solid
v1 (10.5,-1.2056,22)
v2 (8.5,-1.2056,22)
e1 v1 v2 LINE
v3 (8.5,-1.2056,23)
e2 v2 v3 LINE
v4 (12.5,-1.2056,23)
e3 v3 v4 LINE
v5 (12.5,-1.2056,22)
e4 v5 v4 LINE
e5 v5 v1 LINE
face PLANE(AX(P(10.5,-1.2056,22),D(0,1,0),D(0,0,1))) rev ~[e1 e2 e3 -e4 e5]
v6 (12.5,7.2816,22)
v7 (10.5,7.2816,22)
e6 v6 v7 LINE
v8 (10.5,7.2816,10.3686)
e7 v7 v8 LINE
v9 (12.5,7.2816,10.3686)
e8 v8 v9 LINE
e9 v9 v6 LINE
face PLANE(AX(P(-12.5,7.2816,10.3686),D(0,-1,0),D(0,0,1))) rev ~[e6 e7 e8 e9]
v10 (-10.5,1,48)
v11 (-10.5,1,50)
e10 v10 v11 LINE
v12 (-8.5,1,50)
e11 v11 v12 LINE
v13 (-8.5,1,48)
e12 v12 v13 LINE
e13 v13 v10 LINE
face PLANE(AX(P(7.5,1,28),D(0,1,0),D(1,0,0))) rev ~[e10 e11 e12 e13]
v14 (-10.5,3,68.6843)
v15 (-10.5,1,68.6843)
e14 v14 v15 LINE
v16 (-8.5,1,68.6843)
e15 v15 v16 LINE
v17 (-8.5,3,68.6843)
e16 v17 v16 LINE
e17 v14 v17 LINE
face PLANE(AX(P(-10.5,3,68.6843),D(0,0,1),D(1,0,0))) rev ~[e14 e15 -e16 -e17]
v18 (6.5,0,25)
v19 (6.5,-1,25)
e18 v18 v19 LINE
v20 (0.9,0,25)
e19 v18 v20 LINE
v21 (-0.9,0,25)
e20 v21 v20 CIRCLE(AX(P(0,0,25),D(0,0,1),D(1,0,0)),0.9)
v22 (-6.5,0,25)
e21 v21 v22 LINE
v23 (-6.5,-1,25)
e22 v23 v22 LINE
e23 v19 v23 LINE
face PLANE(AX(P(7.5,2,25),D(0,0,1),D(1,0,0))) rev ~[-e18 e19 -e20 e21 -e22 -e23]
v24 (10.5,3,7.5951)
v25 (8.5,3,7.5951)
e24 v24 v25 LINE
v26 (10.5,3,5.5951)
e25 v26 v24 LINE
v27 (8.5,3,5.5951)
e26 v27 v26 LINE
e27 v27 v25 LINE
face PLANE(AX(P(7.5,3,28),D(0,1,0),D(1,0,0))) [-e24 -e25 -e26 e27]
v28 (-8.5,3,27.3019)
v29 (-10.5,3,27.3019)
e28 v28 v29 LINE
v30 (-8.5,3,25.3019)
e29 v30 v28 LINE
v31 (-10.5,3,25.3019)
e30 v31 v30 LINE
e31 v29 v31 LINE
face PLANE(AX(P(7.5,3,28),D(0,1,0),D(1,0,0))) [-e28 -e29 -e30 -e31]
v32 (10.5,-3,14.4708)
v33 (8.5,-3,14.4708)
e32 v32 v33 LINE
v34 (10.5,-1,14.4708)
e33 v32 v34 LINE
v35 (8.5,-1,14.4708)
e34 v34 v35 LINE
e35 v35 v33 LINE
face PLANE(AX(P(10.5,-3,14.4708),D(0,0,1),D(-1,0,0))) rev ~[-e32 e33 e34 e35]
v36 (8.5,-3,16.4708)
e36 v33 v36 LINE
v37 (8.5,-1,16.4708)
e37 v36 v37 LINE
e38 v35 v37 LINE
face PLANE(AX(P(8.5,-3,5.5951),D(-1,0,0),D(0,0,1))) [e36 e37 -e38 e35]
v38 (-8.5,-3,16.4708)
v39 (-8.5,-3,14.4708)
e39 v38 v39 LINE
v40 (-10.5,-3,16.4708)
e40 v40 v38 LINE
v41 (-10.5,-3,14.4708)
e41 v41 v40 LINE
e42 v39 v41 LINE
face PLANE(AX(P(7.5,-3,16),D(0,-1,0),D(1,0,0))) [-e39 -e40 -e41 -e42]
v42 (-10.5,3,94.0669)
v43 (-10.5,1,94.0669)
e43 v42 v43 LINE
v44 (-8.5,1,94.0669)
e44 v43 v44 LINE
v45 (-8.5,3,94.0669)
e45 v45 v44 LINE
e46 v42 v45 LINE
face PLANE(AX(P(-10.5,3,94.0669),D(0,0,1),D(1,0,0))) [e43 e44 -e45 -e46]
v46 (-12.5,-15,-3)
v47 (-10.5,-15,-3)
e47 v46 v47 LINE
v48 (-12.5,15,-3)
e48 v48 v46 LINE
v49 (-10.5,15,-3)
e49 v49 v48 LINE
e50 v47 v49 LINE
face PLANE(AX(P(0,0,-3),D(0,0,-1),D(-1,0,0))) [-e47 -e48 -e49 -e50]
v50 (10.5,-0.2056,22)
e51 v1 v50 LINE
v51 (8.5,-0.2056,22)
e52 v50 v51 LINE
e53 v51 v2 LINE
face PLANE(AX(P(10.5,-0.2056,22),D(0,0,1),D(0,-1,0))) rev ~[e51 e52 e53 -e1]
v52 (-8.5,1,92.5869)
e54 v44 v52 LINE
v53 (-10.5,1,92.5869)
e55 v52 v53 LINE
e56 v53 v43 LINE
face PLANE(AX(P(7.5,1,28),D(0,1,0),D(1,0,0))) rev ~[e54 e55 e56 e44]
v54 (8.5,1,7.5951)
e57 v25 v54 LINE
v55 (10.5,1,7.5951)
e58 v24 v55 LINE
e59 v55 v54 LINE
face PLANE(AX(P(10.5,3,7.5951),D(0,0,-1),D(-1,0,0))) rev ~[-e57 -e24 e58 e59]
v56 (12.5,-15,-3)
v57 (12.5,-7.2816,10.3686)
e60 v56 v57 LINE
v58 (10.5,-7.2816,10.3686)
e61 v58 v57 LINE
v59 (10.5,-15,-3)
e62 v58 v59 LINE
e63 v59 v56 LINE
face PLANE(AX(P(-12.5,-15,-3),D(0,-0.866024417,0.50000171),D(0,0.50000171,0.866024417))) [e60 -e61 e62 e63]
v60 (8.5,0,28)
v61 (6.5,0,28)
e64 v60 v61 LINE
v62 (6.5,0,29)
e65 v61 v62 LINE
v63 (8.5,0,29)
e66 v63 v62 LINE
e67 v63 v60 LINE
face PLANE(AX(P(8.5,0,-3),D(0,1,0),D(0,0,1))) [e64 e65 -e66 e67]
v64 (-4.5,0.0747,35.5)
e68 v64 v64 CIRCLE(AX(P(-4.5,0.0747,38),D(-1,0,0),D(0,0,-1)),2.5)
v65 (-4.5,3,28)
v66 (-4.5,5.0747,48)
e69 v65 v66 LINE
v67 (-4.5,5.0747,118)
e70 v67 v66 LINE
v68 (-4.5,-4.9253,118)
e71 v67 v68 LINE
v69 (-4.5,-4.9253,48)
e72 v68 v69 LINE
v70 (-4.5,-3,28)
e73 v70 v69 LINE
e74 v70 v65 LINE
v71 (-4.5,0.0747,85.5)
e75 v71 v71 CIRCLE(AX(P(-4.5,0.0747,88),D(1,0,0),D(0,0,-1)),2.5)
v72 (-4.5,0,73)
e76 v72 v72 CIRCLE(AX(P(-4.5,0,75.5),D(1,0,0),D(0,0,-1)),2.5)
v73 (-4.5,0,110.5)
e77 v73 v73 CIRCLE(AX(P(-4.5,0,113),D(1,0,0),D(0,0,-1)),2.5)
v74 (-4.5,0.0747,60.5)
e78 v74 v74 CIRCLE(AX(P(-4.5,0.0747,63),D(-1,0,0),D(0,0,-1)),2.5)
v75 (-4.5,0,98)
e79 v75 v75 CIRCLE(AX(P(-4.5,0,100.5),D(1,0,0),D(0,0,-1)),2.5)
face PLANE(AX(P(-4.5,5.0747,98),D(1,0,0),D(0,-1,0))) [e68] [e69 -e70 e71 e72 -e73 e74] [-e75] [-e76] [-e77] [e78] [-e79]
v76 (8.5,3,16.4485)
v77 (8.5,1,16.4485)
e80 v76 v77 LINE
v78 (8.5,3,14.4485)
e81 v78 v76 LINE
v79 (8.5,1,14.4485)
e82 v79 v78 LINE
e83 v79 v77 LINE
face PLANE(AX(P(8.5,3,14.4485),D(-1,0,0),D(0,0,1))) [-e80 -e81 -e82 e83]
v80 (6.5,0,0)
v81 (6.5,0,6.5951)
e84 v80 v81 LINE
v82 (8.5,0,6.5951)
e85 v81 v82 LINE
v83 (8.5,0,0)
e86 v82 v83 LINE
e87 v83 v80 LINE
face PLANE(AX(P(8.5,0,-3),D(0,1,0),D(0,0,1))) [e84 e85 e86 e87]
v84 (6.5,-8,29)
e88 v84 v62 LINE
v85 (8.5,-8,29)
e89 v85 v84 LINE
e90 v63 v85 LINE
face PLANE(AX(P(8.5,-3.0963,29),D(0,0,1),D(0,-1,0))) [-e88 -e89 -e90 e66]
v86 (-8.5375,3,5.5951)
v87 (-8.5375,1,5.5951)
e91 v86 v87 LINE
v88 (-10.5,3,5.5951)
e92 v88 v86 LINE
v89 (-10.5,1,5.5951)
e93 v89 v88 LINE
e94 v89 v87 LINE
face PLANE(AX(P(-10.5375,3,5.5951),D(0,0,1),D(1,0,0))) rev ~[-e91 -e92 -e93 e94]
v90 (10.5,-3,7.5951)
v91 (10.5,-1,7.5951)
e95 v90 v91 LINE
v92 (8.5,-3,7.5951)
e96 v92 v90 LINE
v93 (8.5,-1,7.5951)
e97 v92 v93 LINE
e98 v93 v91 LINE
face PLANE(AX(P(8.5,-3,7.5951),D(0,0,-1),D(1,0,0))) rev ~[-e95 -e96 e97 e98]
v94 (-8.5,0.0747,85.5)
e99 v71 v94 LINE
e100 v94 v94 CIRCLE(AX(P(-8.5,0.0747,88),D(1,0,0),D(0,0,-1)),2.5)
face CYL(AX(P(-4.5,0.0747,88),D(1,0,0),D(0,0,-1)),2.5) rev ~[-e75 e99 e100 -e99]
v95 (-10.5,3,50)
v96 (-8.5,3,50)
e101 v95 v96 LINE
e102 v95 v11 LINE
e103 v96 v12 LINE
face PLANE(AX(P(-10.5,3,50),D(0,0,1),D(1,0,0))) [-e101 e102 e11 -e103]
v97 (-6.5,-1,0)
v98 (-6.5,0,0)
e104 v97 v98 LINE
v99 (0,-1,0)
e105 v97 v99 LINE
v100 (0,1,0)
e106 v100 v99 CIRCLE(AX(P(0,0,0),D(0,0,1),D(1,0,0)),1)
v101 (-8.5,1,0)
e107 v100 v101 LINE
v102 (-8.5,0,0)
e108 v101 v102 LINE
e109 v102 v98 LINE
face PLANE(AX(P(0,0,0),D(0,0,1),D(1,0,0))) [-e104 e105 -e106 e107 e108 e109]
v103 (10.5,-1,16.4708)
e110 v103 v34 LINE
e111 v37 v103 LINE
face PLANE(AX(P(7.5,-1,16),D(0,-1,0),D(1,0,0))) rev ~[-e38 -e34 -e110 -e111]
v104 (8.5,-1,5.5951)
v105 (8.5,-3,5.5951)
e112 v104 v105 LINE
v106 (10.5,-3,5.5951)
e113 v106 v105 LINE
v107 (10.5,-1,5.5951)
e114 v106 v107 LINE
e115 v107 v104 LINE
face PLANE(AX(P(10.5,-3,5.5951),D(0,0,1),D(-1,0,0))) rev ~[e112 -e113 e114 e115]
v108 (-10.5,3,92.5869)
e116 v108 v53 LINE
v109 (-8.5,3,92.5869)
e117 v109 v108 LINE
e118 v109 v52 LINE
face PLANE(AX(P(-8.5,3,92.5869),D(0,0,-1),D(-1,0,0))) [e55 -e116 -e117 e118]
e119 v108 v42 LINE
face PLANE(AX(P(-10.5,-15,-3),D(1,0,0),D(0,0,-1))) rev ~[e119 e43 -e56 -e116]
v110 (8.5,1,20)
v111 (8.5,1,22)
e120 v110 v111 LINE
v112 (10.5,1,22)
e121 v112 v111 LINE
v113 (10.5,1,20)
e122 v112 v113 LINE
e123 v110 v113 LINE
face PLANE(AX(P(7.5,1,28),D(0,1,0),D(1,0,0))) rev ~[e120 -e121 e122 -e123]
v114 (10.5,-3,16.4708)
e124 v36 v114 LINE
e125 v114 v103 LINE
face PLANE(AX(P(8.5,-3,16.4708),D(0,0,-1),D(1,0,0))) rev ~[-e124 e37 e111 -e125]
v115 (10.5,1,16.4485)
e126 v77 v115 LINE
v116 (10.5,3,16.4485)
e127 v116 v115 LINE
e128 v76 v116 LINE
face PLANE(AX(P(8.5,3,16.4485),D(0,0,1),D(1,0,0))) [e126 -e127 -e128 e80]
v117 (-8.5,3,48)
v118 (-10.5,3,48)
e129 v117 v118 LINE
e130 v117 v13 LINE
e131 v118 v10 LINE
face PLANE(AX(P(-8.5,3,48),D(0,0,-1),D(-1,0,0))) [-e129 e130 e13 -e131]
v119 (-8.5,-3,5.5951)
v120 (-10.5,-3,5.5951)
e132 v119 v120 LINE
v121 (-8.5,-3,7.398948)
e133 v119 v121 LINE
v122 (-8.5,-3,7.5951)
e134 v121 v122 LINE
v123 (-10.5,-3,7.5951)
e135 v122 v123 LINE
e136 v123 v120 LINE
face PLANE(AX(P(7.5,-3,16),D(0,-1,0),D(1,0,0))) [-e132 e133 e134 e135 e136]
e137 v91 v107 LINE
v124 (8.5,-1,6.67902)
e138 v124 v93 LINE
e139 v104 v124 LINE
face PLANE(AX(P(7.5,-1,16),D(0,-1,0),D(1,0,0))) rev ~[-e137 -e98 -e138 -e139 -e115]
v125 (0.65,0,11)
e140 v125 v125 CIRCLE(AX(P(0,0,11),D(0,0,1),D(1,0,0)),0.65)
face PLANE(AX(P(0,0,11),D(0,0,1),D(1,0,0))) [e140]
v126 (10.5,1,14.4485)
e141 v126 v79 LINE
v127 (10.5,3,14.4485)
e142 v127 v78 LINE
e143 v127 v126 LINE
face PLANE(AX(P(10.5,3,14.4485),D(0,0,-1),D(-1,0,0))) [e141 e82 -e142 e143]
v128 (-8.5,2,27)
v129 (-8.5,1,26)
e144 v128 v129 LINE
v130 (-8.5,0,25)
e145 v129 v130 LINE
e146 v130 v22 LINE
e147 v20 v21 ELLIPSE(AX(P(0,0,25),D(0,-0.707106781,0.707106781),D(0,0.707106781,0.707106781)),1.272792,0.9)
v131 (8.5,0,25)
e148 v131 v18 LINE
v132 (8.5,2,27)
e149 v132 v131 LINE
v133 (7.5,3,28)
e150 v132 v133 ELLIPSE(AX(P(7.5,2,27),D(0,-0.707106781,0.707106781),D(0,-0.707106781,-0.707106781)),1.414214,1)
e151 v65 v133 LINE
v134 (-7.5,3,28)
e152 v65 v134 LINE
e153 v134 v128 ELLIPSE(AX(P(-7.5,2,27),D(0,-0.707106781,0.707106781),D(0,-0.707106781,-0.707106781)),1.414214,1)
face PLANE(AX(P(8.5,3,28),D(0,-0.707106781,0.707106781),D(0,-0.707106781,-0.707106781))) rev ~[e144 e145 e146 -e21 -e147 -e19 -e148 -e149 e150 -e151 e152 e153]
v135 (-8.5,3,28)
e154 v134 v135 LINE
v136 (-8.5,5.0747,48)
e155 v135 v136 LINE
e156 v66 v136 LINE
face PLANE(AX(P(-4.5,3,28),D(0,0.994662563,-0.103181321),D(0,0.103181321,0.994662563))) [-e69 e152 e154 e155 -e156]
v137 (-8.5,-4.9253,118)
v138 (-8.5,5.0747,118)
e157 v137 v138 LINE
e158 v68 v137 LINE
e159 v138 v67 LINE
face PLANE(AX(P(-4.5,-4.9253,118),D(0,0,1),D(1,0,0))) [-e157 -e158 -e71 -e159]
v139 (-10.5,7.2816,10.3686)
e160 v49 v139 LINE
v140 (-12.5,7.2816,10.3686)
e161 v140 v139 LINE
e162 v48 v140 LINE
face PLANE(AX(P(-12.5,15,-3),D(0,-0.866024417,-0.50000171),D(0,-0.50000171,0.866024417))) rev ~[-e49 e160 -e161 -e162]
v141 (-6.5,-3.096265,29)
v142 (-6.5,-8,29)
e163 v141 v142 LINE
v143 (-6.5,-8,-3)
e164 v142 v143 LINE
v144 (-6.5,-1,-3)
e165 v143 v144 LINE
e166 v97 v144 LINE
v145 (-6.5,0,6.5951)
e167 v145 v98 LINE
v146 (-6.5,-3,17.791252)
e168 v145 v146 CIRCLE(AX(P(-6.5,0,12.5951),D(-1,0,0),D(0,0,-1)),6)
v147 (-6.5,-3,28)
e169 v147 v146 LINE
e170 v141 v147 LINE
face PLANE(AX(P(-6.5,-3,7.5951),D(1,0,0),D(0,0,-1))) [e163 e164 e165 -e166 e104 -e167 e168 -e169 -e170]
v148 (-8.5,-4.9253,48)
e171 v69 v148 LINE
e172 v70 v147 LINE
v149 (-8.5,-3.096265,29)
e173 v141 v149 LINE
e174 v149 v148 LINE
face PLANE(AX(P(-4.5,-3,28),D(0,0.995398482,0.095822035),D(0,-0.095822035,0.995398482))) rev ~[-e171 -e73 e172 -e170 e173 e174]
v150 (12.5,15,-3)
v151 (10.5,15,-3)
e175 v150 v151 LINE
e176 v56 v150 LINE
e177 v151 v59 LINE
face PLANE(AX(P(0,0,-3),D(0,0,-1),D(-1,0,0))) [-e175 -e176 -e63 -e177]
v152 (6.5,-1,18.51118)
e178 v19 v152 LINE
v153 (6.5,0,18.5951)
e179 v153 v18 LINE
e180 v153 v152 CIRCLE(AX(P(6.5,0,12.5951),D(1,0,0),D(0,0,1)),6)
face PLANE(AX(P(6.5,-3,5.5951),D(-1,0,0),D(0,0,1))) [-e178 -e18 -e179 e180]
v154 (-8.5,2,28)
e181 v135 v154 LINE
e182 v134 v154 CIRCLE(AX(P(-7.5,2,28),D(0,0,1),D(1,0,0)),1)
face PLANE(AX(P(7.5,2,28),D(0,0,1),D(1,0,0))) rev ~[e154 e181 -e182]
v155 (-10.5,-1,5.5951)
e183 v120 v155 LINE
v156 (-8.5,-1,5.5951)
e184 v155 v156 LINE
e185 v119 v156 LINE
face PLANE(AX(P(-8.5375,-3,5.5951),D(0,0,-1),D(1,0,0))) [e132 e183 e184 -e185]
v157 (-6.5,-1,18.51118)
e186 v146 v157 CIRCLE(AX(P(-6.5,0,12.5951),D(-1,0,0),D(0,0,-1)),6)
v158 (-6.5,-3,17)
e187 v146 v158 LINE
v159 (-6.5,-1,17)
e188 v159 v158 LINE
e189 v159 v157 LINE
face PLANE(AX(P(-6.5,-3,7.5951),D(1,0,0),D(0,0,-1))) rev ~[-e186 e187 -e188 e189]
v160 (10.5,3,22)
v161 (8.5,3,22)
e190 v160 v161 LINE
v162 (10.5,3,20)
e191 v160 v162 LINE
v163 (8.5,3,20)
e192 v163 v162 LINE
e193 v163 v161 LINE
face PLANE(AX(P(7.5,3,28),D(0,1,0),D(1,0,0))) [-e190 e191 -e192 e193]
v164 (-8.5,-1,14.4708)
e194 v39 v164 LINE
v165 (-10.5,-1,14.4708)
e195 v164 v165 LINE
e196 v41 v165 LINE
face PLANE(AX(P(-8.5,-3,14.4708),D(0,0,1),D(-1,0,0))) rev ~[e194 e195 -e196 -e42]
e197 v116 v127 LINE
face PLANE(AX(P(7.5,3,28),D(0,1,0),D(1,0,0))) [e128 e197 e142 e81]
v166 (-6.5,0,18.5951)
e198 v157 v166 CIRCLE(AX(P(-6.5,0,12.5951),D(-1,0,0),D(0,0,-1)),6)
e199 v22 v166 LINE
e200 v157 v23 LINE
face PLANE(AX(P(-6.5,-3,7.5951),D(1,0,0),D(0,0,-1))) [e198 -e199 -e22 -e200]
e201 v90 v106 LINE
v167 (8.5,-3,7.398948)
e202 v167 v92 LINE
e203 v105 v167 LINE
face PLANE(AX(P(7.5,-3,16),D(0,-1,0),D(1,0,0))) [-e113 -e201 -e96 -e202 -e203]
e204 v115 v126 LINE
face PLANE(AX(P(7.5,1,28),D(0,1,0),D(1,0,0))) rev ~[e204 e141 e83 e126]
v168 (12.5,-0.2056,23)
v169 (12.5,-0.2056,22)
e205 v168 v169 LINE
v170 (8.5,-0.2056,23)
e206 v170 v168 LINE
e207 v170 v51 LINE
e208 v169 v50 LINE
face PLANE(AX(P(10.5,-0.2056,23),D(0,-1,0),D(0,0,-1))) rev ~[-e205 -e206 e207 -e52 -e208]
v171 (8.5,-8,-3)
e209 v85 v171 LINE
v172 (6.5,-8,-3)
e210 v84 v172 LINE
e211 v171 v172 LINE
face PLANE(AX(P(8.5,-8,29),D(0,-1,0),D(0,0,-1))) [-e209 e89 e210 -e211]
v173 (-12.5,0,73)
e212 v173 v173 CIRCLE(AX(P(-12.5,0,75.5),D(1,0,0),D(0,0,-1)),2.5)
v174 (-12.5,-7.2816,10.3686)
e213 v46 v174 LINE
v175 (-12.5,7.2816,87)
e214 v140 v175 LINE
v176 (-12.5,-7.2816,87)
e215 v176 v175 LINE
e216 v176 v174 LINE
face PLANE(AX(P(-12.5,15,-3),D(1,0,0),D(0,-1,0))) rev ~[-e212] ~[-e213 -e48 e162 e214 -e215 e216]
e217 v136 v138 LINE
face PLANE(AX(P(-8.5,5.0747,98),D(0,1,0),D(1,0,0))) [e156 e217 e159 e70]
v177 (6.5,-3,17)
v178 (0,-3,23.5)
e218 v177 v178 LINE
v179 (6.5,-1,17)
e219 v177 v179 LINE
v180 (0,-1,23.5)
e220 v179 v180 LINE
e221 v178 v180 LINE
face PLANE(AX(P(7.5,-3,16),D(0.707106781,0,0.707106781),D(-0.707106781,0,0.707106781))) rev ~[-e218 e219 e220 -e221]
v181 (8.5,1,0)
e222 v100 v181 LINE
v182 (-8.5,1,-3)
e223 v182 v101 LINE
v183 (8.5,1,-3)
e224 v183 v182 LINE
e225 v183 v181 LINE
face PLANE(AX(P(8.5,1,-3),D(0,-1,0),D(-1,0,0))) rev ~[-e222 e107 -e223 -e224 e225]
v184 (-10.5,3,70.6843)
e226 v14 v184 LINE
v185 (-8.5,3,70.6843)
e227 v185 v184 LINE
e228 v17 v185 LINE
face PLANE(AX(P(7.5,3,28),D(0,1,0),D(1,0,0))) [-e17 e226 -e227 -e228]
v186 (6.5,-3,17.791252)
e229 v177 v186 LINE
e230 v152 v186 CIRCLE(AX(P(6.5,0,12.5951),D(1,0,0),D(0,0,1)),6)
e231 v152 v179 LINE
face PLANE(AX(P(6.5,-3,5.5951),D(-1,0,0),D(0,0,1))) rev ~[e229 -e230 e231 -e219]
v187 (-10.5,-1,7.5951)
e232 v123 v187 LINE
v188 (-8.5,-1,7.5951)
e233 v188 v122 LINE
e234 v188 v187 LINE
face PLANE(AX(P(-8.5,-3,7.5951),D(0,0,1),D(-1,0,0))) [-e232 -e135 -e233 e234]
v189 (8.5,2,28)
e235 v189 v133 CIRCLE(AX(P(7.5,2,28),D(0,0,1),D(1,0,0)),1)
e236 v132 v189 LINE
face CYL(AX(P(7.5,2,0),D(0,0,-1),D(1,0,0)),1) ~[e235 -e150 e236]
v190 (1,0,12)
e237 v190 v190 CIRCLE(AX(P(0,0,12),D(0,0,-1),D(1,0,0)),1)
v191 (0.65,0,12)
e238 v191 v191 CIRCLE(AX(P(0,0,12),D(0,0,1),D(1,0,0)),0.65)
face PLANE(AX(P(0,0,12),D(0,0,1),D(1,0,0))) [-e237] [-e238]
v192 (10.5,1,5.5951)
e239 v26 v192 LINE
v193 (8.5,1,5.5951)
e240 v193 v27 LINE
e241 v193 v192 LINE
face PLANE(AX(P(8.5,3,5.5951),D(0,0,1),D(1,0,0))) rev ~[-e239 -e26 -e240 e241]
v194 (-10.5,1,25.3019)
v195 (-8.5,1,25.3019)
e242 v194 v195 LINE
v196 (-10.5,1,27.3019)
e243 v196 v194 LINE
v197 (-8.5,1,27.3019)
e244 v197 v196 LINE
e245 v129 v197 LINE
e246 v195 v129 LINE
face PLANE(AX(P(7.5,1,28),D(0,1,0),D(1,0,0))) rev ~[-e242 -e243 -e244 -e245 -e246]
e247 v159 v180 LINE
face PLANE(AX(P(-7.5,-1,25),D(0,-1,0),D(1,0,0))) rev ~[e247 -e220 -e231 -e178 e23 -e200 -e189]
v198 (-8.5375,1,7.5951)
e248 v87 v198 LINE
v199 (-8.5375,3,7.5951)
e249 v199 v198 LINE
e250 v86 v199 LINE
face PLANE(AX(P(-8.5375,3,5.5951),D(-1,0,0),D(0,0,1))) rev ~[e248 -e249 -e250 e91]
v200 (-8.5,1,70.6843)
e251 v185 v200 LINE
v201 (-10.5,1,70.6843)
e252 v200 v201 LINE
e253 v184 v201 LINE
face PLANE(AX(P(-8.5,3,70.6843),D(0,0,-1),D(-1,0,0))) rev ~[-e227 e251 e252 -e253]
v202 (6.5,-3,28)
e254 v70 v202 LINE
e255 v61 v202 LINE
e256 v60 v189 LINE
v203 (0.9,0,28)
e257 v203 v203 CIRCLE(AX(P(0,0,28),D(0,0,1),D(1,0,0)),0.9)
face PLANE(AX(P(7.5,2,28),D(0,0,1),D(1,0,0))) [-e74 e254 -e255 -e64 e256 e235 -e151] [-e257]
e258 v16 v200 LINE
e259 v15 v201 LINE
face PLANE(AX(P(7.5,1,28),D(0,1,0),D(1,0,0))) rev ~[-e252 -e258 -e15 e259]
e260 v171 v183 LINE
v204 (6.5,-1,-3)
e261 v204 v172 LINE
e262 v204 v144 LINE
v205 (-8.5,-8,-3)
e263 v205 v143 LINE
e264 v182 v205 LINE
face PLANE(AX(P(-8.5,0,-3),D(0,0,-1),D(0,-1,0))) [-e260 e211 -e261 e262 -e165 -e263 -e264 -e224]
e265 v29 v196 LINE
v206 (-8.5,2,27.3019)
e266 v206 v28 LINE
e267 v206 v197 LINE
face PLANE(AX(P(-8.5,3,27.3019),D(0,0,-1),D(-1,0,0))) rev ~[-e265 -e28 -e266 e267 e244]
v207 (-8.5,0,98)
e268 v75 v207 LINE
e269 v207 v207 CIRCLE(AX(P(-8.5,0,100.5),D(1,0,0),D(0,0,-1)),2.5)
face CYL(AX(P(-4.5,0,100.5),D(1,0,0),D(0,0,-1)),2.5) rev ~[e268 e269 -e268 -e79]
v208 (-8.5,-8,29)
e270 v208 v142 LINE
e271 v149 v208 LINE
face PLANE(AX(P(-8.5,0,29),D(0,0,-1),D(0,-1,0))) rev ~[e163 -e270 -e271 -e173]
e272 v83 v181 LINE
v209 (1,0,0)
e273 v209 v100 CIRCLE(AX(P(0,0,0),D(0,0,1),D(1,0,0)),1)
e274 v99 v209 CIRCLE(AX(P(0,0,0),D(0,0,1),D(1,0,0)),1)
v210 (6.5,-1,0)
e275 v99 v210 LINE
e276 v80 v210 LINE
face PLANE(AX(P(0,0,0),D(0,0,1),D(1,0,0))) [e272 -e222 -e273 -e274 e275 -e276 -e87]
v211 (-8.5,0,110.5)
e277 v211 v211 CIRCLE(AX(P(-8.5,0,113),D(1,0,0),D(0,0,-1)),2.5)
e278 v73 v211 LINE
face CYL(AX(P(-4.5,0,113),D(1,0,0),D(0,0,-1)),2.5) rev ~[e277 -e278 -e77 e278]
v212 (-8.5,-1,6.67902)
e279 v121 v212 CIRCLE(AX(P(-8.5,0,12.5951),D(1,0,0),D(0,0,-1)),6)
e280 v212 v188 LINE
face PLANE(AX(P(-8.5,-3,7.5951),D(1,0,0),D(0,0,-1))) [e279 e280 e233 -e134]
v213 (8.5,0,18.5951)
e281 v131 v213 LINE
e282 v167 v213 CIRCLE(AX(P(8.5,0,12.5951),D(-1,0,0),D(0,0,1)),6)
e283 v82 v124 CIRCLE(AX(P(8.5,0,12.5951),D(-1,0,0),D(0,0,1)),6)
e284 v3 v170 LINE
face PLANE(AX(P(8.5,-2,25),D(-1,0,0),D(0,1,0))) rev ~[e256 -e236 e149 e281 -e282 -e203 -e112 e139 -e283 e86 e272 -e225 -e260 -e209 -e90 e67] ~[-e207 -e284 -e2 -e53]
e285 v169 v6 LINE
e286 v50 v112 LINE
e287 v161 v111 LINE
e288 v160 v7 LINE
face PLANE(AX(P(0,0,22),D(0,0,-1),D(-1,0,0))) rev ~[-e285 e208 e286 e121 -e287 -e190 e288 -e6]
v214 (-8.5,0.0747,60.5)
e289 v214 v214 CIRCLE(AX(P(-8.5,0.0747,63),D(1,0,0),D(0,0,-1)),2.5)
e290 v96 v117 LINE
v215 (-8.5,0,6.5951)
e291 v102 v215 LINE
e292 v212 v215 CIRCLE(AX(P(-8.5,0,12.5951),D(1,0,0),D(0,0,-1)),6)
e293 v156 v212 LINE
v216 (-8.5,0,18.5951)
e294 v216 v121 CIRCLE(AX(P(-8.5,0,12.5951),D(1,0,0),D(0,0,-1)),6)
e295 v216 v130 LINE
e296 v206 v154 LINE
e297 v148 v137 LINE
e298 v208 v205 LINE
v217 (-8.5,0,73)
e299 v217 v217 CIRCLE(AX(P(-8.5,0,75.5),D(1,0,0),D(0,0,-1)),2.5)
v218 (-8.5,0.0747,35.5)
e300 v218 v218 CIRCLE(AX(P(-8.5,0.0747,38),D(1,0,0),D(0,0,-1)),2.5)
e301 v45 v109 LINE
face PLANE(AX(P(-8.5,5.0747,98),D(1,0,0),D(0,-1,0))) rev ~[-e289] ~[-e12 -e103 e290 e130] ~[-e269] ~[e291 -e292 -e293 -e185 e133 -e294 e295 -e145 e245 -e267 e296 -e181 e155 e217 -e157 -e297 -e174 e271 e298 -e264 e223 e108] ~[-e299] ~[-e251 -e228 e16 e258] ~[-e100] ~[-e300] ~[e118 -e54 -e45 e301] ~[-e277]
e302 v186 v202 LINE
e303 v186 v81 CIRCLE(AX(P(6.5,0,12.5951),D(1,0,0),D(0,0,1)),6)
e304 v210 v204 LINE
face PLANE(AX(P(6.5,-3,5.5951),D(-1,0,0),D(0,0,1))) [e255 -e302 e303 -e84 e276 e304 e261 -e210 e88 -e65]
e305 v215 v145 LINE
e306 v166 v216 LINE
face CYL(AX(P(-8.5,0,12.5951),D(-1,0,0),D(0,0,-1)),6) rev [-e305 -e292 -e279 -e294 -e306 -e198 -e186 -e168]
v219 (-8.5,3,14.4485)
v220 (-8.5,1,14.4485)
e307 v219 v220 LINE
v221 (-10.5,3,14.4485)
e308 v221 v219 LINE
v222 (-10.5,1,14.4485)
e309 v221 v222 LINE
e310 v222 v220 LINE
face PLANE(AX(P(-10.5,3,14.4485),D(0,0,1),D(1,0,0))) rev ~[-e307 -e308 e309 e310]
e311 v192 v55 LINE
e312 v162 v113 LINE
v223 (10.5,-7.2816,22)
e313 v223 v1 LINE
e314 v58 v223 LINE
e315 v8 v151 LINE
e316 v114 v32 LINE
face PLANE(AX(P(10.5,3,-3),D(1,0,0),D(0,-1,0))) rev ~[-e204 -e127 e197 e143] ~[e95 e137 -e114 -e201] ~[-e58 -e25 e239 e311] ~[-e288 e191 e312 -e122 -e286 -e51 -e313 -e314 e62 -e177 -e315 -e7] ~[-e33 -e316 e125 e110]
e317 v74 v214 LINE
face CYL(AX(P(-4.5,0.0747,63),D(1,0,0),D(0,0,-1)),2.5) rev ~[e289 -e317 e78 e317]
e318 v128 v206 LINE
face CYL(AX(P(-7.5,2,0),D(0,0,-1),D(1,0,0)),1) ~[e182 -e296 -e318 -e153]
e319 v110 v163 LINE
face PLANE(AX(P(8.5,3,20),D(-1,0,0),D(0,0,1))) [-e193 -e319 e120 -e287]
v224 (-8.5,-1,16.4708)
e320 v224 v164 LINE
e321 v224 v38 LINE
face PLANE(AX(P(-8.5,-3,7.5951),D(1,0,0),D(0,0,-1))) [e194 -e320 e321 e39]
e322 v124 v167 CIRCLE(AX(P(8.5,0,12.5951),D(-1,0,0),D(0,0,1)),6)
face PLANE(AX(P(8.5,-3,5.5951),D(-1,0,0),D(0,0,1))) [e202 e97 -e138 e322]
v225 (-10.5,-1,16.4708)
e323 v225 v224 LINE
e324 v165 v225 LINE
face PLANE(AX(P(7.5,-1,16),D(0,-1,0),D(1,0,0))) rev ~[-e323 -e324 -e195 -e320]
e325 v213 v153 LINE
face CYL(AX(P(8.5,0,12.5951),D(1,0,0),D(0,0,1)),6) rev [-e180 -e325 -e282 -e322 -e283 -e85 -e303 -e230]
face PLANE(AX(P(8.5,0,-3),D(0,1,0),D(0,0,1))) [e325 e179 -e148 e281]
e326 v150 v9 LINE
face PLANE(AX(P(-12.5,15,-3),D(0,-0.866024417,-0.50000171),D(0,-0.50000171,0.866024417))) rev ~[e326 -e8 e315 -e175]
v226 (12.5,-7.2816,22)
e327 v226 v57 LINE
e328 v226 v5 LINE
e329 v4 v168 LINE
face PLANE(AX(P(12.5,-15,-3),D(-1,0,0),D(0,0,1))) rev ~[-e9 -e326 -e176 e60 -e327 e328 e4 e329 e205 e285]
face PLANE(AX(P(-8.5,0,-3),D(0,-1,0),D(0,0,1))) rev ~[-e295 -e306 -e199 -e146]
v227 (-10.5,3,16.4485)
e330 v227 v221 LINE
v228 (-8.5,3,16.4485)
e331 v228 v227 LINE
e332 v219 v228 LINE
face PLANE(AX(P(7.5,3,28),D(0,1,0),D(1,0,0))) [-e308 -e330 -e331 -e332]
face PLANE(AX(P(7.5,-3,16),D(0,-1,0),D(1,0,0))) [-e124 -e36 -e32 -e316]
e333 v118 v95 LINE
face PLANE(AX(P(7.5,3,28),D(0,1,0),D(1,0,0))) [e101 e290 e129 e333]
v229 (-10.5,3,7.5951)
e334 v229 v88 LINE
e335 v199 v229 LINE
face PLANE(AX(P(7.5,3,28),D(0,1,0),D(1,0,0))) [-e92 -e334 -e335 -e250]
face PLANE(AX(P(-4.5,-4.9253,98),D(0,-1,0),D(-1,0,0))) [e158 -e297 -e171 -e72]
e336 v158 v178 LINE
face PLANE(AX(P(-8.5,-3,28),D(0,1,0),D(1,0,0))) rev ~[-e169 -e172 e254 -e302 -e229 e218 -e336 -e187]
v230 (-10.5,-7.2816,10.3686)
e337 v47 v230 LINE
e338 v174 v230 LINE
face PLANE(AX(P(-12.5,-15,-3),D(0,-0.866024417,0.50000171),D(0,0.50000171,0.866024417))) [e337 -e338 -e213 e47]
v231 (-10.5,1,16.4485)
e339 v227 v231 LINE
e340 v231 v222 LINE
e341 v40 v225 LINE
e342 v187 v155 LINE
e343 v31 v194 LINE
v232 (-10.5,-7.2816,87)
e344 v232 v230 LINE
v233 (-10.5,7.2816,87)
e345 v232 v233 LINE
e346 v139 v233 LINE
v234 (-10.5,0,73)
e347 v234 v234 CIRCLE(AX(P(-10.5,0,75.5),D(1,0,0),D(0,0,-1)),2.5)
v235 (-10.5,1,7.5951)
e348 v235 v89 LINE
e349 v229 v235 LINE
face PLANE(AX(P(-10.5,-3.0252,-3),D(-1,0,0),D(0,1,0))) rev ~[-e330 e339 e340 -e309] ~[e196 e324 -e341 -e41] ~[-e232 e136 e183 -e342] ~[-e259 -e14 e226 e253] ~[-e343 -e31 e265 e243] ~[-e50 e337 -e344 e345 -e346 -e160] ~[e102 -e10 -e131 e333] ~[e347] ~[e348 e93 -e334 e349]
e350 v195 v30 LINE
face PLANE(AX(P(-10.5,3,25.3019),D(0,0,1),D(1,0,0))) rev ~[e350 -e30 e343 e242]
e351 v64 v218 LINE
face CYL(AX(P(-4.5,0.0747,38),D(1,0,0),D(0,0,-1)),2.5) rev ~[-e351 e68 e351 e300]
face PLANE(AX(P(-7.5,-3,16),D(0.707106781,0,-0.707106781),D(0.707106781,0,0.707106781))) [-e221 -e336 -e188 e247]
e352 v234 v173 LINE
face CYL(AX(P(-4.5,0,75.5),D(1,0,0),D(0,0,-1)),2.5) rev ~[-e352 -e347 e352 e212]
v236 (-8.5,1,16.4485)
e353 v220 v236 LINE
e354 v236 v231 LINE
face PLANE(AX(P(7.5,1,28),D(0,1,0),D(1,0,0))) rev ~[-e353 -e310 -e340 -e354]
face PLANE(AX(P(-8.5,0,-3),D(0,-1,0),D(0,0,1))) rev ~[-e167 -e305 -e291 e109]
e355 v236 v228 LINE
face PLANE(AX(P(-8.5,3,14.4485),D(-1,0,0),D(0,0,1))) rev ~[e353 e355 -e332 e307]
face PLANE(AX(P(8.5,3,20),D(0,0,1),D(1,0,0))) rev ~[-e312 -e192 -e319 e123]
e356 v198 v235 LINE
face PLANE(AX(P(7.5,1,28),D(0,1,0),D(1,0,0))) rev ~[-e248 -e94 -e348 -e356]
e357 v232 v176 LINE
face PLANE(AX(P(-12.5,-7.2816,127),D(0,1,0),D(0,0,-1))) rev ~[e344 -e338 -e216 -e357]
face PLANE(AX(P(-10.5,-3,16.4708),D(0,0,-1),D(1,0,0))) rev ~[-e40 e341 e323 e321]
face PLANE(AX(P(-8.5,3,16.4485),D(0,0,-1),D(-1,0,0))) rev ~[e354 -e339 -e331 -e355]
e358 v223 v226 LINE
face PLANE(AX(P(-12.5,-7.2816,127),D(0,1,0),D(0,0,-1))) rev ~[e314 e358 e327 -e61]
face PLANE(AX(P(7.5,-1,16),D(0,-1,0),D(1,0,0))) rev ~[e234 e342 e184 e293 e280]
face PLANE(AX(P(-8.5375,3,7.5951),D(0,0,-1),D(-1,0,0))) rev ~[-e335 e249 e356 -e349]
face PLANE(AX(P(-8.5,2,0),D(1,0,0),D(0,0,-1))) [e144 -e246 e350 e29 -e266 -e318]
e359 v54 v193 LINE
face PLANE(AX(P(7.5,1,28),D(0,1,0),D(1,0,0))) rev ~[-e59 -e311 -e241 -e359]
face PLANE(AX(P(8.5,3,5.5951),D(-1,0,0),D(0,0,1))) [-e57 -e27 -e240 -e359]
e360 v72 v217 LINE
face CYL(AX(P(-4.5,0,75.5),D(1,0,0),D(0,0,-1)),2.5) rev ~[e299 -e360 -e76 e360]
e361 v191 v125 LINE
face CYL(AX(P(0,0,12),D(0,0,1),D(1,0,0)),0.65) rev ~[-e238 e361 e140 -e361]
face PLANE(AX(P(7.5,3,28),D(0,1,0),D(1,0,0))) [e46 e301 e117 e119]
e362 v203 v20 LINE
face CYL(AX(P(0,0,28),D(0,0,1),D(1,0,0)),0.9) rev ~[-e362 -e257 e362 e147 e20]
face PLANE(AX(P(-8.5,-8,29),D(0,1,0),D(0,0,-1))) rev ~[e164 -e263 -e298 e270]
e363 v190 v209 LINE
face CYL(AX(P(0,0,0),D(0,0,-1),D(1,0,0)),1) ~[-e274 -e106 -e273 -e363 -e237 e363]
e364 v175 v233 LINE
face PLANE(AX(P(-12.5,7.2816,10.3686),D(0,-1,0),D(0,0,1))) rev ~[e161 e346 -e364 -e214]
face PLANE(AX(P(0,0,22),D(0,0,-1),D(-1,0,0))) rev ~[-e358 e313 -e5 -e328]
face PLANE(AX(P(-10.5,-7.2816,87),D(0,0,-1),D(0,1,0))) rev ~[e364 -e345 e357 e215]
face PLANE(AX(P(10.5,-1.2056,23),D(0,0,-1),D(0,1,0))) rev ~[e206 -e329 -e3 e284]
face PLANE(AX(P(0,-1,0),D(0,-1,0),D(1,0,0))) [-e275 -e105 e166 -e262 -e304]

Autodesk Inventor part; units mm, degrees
ref_plane "YZ Plane" through (0, 0, 0) normal (1, 0, 0) x (0, 1, 0)
ref_plane "XZ Plane" through (0, 0, 0) normal (0, 1, 0) x (-1, 0, 0)
ref_plane "XY Plane" through (0, 0, 0) normal (0, 0, 1) x (1, 0, 0)
sketch "Sketch1" plane through (0, 0, 0) normal (0, 0, 1) x (1, 0, 0)
  line L0 (0, 0) -> (8.5, 0)
  line L1 (8.5, 0) -> (8.5, 1)
  line L2 (8.5, 1) -> (-8.5, 1)
  line L3 (-8.5, 1) -> (-8.5, -1)
  line L4 (-8.5, -1) -> (8.5, -1)
  line L5 (8.5, -1) -> (8.5, 1)
  circle A0 centre (0, 0) radius 1
  line L6 (-8.5, 0) -> (-7.5, 0)
  line L7 (8.5, 0) -> (7.5, 0)
  circle A1 centre (-7.5, 0) radius 1
  circle A2 centre (7.5, 0) radius 1
  line L8 (-7.5, 0) -> (-7.5, 2)
  line L9 (-7.5, 0) -> (-7.5, -2)
  line L10 (7.5, 0) -> (7.5, 2)
  line L11 (7.5, 0) -> (7.5, -2)
  line L12 (8.5, 2) -> (6.5, 2)
  line L13 (6.5, 2) -> (6.5, -2)
  line L14 (6.5, -2) -> (8.5, -2)
  line L15 (8.5, -2) -> (8.5, 2)
  line L16 (-8.5, 2) -> (-6.5, 2)
  line L17 (-6.5, 2) -> (-6.5, -2)
  line L18 (-6.5, -2) -> (-8.5, -2)
  line L19 (-8.5, -2) -> (-8.5, 2)
  circle A3 centre (-7.5, 2) radius 1
  circle A4 centre (-7.5, -2) radius 1
  circle A5 centre (7.5, -2) radius 1
  circle A6 centre (7.5, 2) radius 1
  dimension "d3" = 8.5
  dimension "d4" = 1
  dimension "d5" = 17
  dimension "d6" = 2
  dimension "d7" = 2
  dimension "d8" = 1
  dimension "d9" = 1
  dimension "d10" = 2
  dimension "d11" = 2
  dimension "d12" = 2
  dimension "d13" = 2
  dimension "d14" = 2
  dimension "d15" = 2
  dimension "d16" = 2
  dimension "d17" = 2
extrude "Extrusion1" add sketch "Sketch1" along normal blind 25 contours A6 L12 L10 | L10 L12 A6 | A5 L14 L11 | L11 L14 A5 | L12 A6 | L14 A5 | A3 L16 L8 | L8 L16 A3 | L16 A3 | A4 L18 L9 | L9 L18 A4 | A4 L18
extrude "Extrusion2" add sketch "Sketch1" against normal blind 3
extrude "Extrusion3" add sketch "Sketch1" along normal blind 6 contours A0
sketch "Sketch2" plane through (0, 0, 6) normal (0, 0, 1) x (1, 0, 0)
  circle A0 centre (0, 0) radius 0.65
  dimension "d25" = 1.3
extrude "Extrusion4" cut sketch "Sketch2" against normal blind 2
sketch "Sketch3" plane through (7.5, 2, 25) normal (0, 0, 1) x (1, 0, 0)
  circle A0 centre (0, 0) radius 1 projected
  arc A1 (-16, -4) -> (-14, -4) centre (-15, -4) ccw projected
  line L0 (0, 1) -> (-15, 1)
  line L1 (-15, 1) -> (-15, -5)
  line L2 (-15, -5) -> (0, -5)
  line L3 (0, -5) -> (0, 1)
  line L4 (1, -4) -> (1, 0) projected
  arc A2 (-16, 0) -> (-14, 0) centre (-15, 0) ccw projected
  line L5 (1, -4) -> (-16, -4)
  line L6 (-16, -4) -> (-16, 0)
  line L7 (-16, 0) -> (1, 0)
  line L8 (1, 0) -> (1, -4)
  circle A3 centre (0, -4) radius 1 projected
  circle A4 centre (0, -4) radius 1
  circle A5 centre (0, 0) radius 1
  circle A6 centre (-15, 0) radius 1 projected
  circle A7 centre (-15, 0) radius 1
  circle A8 centre (-15, -4) radius 1
  point P0 (-7.5, -2)
sketch "Sketch4" plane through (-7.5, 2, 25) normal (0, 0, 1) x (1, 0, 0)
  point P0 (7.5, -2)
extrude "Extrusion5" add sketch "Sketch3" along normal blind 3
sketch "Sketch5" plane through (-7.5, -3, 25) normal (0, -1, 0) x (1, 0, 0)
  line L0 (15, 0) -> (15, 3) projected
  line L1 (15, 3) -> (15, -9)
  line L2 (15, -9) -> (6, 0)
  line L3 (15, 0) -> (0, 0) projected
  line L4 (6, 0) -> (15, 3)
  line L5 (0, 3) -> (0, -9)
  line L6 (0, -9) -> (9, 0)
  line L7 (15, 3) -> (0, 3) projected
  line L8 (9, 0) -> (0, 3)
  point P0 (7.5, -25)
  dimension "d30" = 12
  dimension "d31" = 45
  dimension "d32" = 45
extrude "Extrusion6" add sketch "Sketch5" against normal blind 2 contours L1 L2 L6 L3 | L6 L2 L3 | L3 L4 L8 | L4 L3 L5 L8 | L6 L5 L3 L2
sketch "Sketch6" plane through (-7.5, 3, 25) normal (0, 1, 0) x (1, 0, 0)
  line L0 (-1, -3) -> (0, -3) projected
  line L1 (0, -3) -> (0, 9)
  line L2 (-1, 28) -> (-1, -3) projected
  line L3 (0, -3) -> (12, -3) construction
  line L4 (0, 9) -> (9, 0)
  line L5 (15, 0) -> (0, 0) projected
  line L6 (0, -3) -> (15, -3) projected
  line L7 (9, 0) -> (0, -3)
  line L8 (15, 9) -> (15, 0) projected
  line L9 (15, -3) -> (15, 9)
  line L10 (15, 9) -> (3, -3)
  point P0 (7.5, 25)
  dimension "d35" = 12
  dimension "d36" = 90
  dimension "d37" = 45
extrude "Extrusion7" add sketch "Sketch6" against normal blind 2 contours L1 L4 L10 L5 | L10 L7 L5 L9 L6 | L10 L5 L7 | L10 L4 L5 | L4 L10 L8 L5
sketch "Sketch7" plane through (7.5, 2, 28) normal (0, 0, 1) x (1, 0, 0)
  circle A0 centre (-7.5, -2) radius 0.65 projected
  circle A1 centre (-7.5, -2) radius 0.9
  line L0 (0, 1) -> (-15, 1) projected
  line L1 (-16, -5) -> (-12, -5)
  line L2 (-12, -5) -> (-12, 1)
  line L3 (-12, 1) -> (-16, 1)
  line L4 (-16, 1) -> (-16, -5)
  dimension "d40" = 1.8
  dimension "d41" = 4
extrude "Extrusion8" cut sketch "Sketch7" against normal blind 10 contours A0 | A1
extrude "Extrusion9" add sketch "Sketch7" along normal blind 60 contours L2 L1 L4 L3 L0
sketch "Sketch10" plane through (0, 0, -3) normal (0, 0, -1) x (-1, 0, 0)
  line L0 (8.5, -3.0252) -> (10.5, -3.0252)
  line L1 (10.5, -3.0252) -> (10.5, 2.9748)
  line L2 (10.5, 2.9748) -> (8.5, 2.9748)
  line L3 (8.5, 2.9748) -> (8.5, -3.0252)
  line L4 (-8.5, 3) -> (-10.5, 3)
  line L5 (-10.5, 3) -> (-10.5, -3)
  line L6 (-10.5, -3) -> (-8.5, -3)
  line L7 (-8.5, -3) -> (-8.5, 3)
  line L8 (10.5, 15) -> (12.5, 15)
  line L9 (12.5, 15) -> (12.5, -15)
  line L10 (12.5, -15) -> (10.5, -15)
  line L11 (10.5, -15) -> (10.5, 15)
  line L12 (-10.5, -15) -> (-12.5, -15)
  line L13 (-12.5, -15) -> (-12.5, 15)
  line L14 (-12.5, 15) -> (-10.5, 15)
  line L15 (-10.5, 15) -> (-10.5, -15)
  point P0 (0, 0)
  dimension "d62" = 2
  dimension "d63" = 6
  dimension "d64" = 2
  dimension "d65" = 6
  dimension "d66" = 2
  dimension "d67" = 30
  dimension "d68" = 2
  dimension "d69" = 30
extrude "Extrusion12" add sketch "Sketch10" against normal blind 25 contours L5 L15 L12 L13 L14
extrude "Extrusion13" add sketch "Sketch10" against normal blind 130 contours L1 L11 L8 L9 L10
sketch "Sketch11" plane through (-12.5, -15, -3) normal (-1, 0, 0) x (0, 0, 1)
  point P0 (3, 15)
sketch "Sketch12" plane through (-12.5, -15, -3) normal (-1, 0, 0) x (0, 0, 1)
  line L0 (0, 30) -> (0, 0) projected
  line L1 (0, 30) -> (13.3686, 22.2816)
  line L2 (0, 30) -> (15.4368, 30) construction
  line L3 (0, 0) -> (130, 0) projected
  line L4 (0, 0) -> (13.3686, 7.7184)
  line L5 (0, 0) -> (15.4368, 0) construction
  line L6 (13.3686, 7.7184) -> (13.3686, 22.2816)
  line L7 (13.3686, 22.2816) -> (130, 22.2816)
  line L8 (130, 30) -> (130, 0) projected
  line L9 (130, 7.7184) -> (13.3686, 7.7184)
  line L10 (0, 0) -> (130, 0)
  line L11 (130, 7.7184) -> (130, 22.2816)
  line L12 (130, 30) -> (0, 30)
  point P0 (3, 15)
  dimension "d74" = 30
  dimension "d75" = 30
extrude "Extrusion14" cut sketch "Sketch12" against normal blind 130 contours L12 L8 L7 L1 | L4 L9 L8 L3
sketch "Sketch13" plane through (-12.5, -15, -3) normal (-1, 0, 0) x (0, 0, 1)
  line L0 (0, 30) -> (0, 0) projected
  line L1 (0, 15) -> (130, 15)
  line L2 (130, 22.2816) -> (130, 7.7184) projected
  circle A0 centre (40, 15) radius 1
  circle A1 centre (60, 15) radius 1
  circle A2 centre (80, 15) radius 1
  circle A3 centre (100, 15) radius 1
  circle A4 centre (115.7268, 15) radius 1
  point P0 (3, 15)
  dimension "d79" = 2
  dimension "d80" = 2
  dimension "d81" = 2
  dimension "d82" = 2
  dimension "d83" = 2
sketch "Sketch18" plane through (-4.5, -3, 28) normal (1, 0, 0) x (0, 0, -1)
  line L0 (-20, 8.0747) -> (-70, 8.0747)
  line L1 (-70, 8.0747) -> (-70, -1.9253)
  line L2 (-70, -1.9253) -> (-20, -1.9253)
  line L3 (-20, -1.9253) -> (-20, 8.0747)
  point P0 (28, 3)
  dimension "d106" = 50
  dimension "d107" = 10
extrude "Extrusion21" add sketch "Sketch18" against normal blind 4
sketch "Sketch19" plane through (-4.5, -3, 28) normal (1, 0, 0) x (0, 0, -1)
  line L0 (-70, 8.0747) -> (-20, 8.0747) projected
  line L1 (0, 6) -> (-20, 8.0747)
  line L2 (-20, 6) -> (-20, 8.0747) projected
  line L3 (-20, 8.0747) -> (-20, 6)
  line L4 (0, 6) -> (-20, 6) projected
  line L5 (-20, 6) -> (0, 6)
  line L6 (0, 0) -> (-20, 0) projected
  line L7 (-20, -1.9253) -> (-20, 0) projected
  line L8 (0, 0) -> (-20, -1.9253)
  line L9 (-20, -1.9253) -> (-20, 0)
  line L10 (0, 1) -> (0, 0) projected
  line L11 (-20, 0) -> (0, 0)
  point P0 (28, 3)
extrude "Extrusion22" add sketch "Sketch19" against normal blind 4
sketch "Sketch20" plane through (-4.5, -4.9253, 98) normal (1, 0, 0) x (0, 0, -1)
  circle A0 centre (60, 5) radius 2.5
  line L0 (60, 5) -> (35, 5)
  circle A1 centre (35, 5) radius 2.5
  line L1 (35, 5) -> (10, 5)
  circle A2 centre (10, 5) radius 2.5
  point P0 (98, 4.9253)
  dimension "d112" = 5
  dimension "d113" = 25
  dimension "d114" = 5
  dimension "d115" = 25
  dimension "d116" = 5
extrude "Extrusion23" cut sketch "Sketch20" against normal blind 4
sketch "Sketch21" plane through (7.5, 3, 28) normal (0, 1, 0) x (1, 0, 0)
  line L0 (1, 31) -> (1, 0) projected
  line L1 (1, 22.4049) -> (3, 22.4049)
  line L2 (3, 22.4049) -> (3, 20.4049)
  line L3 (3, 20.4049) -> (1, 20.4049)
  line L4 (1, 20.4049) -> (1, 22.4049)
  line L5 (-16.0375, 20.4049) -> (-18.0375, 20.4049)
  line L6 (-18.0375, 20.4049) -> (-18.0375, 22.4049)
  line L7 (-18.0375, 22.4049) -> (-16.0375, 22.4049)
  line L8 (-16.0375, 22.4049) -> (-16.0375, 20.4049)
  line L9 (-16, 31) -> (-16, 0) projected
  line L10 (-16, 11.5515) -> (-18, 11.5515)
  line L11 (-18, 11.5515) -> (-18, 13.5515)
  line L12 (-18, 13.5515) -> (-16, 13.5515)
  line L13 (-16, 13.5515) -> (-16, 11.5515)
  line L14 (1, 11.5515) -> (3, 11.5515)
  line L15 (3, 11.5515) -> (3, 13.5515)
  line L16 (3, 13.5515) -> (1, 13.5515)
  line L17 (1, 13.5515) -> (1, 11.5515)
  line L18 (3, 6) -> (3, 17.6314) projected
  line L19 (3, 6) -> (1, 6)
  line L20 (1, 6) -> (1, 8)
  line L21 (1, 8) -> (3, 8)
  line L22 (3, 8) -> (3, 6)
  line L23 (-16, 0.6981) -> (-18, 0.6981)
  line L24 (-18, 0.6981) -> (-18, 2.6981)
  line L25 (-18, 2.6981) -> (-16, 2.6981)
  line L26 (-16, 2.6981) -> (-16, 0.6981)
  line L27 (-16, -20) -> (-16, 0) projected
  line L28 (-16, -20) -> (-18, -20)
  line L29 (-18, -20) -> (-18, -22)
  line L30 (-18, -22) -> (-16, -22)
  line L31 (-16, -22) -> (-16, -20)
  line L32 (-18, 17.6314) -> (-18, -99) projected
  line L33 (-18, -40.6843) -> (-16, -40.6843)
  line L34 (-16, -40.6843) -> (-16, -42.6843)
  line L35 (-16, -42.6843) -> (-18, -42.6843)
  line L36 (-18, -42.6843) -> (-18, -40.6843)
  line L37 (-16, -70) -> (-16, -20) projected
  line L38 (-16, -64.5869) -> (-18, -64.5869)
  line L39 (-18, -64.5869) -> (-18, -66.0669)
  line L40 (-18, -66.0669) -> (-16, -66.0669)
  line L41 (-16, -66.0669) -> (-16, -64.5869)
  dimension "d131" = 2
  dimension "d132" = 2
  dimension "d133" = 2
  dimension "d134" = 2
  dimension "d135" = 2
  dimension "d136" = 2
  dimension "d137" = 2
  dimension "d138" = 2
  dimension "d139" = 2
  dimension "d140" = 2
  dimension "d141" = 2
  dimension "d142" = 2
  dimension "d143" = 2
  dimension "d144" = 2
  dimension "d145" = 2
  dimension "d146" = 2
extrude "Extrusion24" add sketch "Sketch21" against normal blind 2 contours L1 L2 L3 L0 | L16 L15 L14 L0 | L21 L18 L19 L0 | L5 L6 L7 L8 | L9 L10 L11 L12 | L9 L23 L24 L25 | L31 L30 L29 L28 | L34 L35 L32 L33 | L37 L40 L32 L38
sketch "Sketch22" plane through (7.5, -3, 16) normal (0, -1, 0) x (1, 0, 0)
  line L0 (-18, -10.4049) -> (-16.0375, -10.4049) projected
  line L1 (-18, -10.4049) -> (-16, -10.4049)
  line L2 (-16, -10.4049) -> (-16, -8.4049)
  line L3 (-16, -8.4049) -> (-18, -8.4049)
  line L4 (-18, -8.4049) -> (-18, -10.4049)
  line L5 (3, -5.6314) -> (3, -19) projected
  line L6 (3, -10.4049) -> (1, -10.4049)
  line L7 (1, -10.4049) -> (1, -8.4049)
  line L8 (1, -8.4049) -> (3, -8.4049)
  line L9 (3, -8.4049) -> (3, -10.4049)
  line L10 (3, 6) -> (3, -5.6314) projected
  line L11 (3, -1.5292) -> (1, -1.5292)
  line L12 (1, -1.5292) -> (1, 0.4708)
  line L13 (1, 0.4708) -> (3, 0.4708)
  line L14 (3, 0.4708) -> (3, -1.5292)
  line L15 (-18, 0.4708) -> (-16, 0.4708)
  line L16 (-16, 0.4708) -> (-16, -1.5292)
  line L17 (-16, -1.5292) -> (-18, -1.5292)
  line L18 (-18, -1.5292) -> (-18, 0.4708)
  point P0 (-7.5, -16)
  dimension "d149" = 2
  dimension "d150" = 2
  dimension "d151" = 2
  dimension "d152" = 2
  dimension "d153" = 2
  dimension "d154" = 2
  dimension "d155" = 2
  dimension "d156" = 2
extrude "Extrusion25" add sketch "Sketch22" against normal blind 2
sketch "Sketch23" plane through (-10.5, -15, -3) normal (1, 0, 0) x (0, 0, -1)
  line L0 (-130, 7.7184) -> (-130, 22.2816) projected
  line L1 (-130, 7.7184) -> (-90, 7.7184)
  line L2 (-90, 7.7184) -> (-90, 22.7184)
  line L3 (-90, 22.7184) -> (-130, 22.7184)
  line L4 (-130, 22.7184) -> (-130, 7.7184)
  point P0 (-3, 15)
  dimension "d159" = 40
  dimension "d160" = 15
extrude "Extrusion26" cut sketch "Sketch23" against normal blind 5
sketch "Sketch24" plane through (-8.5, -3, 16.4708) normal (1, 0, 0) x (0, 0, -1)
  point P0 (16.4708, 3)
sketch "Sketch25" plane through (-8.5, -3, 7.5951) normal (1, 0, 0) x (0, 0, -1)
  line L0 (10.5951, 18) -> (10.5951, -12) projected
  line L1 (10.5951, 3) -> (-21.4049, 3)
  line L2 (-21.4049, 3) -> (-21.4049, -5)
  line L3 (-21.4049, -5) -> (10.5951, -5)
  line L4 (10.5951, -5) -> (10.5951, 3)
  circle A0 centre (-5, 3) radius 6
  point P0 (7.5951, 3)
  dimension "d163" = 32
  dimension "d164" = 8
  dimension "d165" = 12
extrude "Extrusion27" add sketch "Sketch25" along normal blind 2 contours L0 L3 L2 L1 A0 | A0 L1 picked at (-6.668, 0.2657)
extrude "Extrusion28" cut sketch "Sketch25" along normal blind 2 contours A0 L1 | L1 A0
sketch "Sketch26" plane through (8.5, -3, 5.5951) normal (-1, 0, 0) x (0, 0, 1)
  line L0 (-8.5951, -5) -> (-8.5951, 5) projected
  line L1 (23.4049, -0.0963) -> (23.4049, -5) projected
  line L2 (-8.5951, 3) -> (23.4049, 3)
  line L3 (23.4049, 3) -> (23.4049, -5)
  line L4 (23.4049, -5) -> (-8.5951, -5)
  line L5 (-8.5951, -5) -> (-8.5951, 3)
  circle A0 centre (7, 3) radius 6
  point P0 (-5.5951, 3)
  dimension "d170" = 32
  dimension "d171" = 12
extrude "Extrusion29" add sketch "Sketch26" along normal blind 2 contours L0 L2 A0 L3 L1 L4 | L2 A0 picked at (5.8639, 1.354)
extrude "Extrusion30" cut sketch "Sketch26" along normal blind 2 contours A0 L2 | L2 A0
sketch "Sketch27" plane through (8.5, 2, 0) normal (1, 0, 0) x (0, 0, -1)
  line L0 (-28, -2) -> (-28, 0) projected
  line L1 (-28, -2) -> (-12, -2)
  line L2 (-12, -2) -> (-12, 1)
  line L3 (-12, 1) -> (-28, 1)
  line L4 (-28, 1) -> (-28, -2)
  line L5 (-18.5951, -2) -> (-25, -2) projected
  line L6 (-28, 1) -> (-25, -2)
  line L7 (-25, -2) -> (-12, -2)
  point P0 (0, -2)
  dimension "d176" = 16
extrude "Extrusion31" cut sketch "Sketch27" against normal blind 17 contours L6 L3 L2 L1
sketch "Sketch28" plane through (0, 0, -3) normal (0, 0, -1) x (-1, 0, 0)
  line L0 (-8.5, 0) -> (-8.5, 2) projected
  line L1 (7.5, 3) -> (8.5, 3) projected
  line L2 (-8.5, 1) -> (8.5, 1)
  line L3 (8.5, 1) -> (8.5, 3)
  line L4 (8.5, 3) -> (-8.5, 3)
  line L5 (-8.5, 3) -> (-8.5, 1)
  point P0 (0, 0)
extrude "Extrusion32" cut sketch "Sketch28" against normal blind 17
sketch "Sketch29" plane through (10.5, -15, -3) normal (-1, 0, 0) x (0, 0, 1)
  line L0 (25, 16) -> (25, 7.7184) projected
  line L1 (25, 13.7944) -> (26, 13.7944)
  line L2 (26, 13.7944) -> (26, 14.7944)
  line L3 (26, 14.7944) -> (25, 14.7944)
  line L4 (25, 14.7944) -> (25, 13.7944)
  point P0 (3, 15)
  dimension "d181" = 1
  dimension "d182" = 1
extrude "Extrusion33" add sketch "Sketch29" along normal mid plane 4
sketch "Sketch30" plane through (-4.5, -4.9253, 98) normal (0, 0, 1) x (1, 0, 0)
  line L0 (-4, 10) -> (-4, 7.9253) projected
  line L1 (0, 0) -> (-4, 0)
  line L2 (-4, 0) -> (-4, 10)
  line L3 (-4, 10) -> (0, 10)
  line L4 (0, 10) -> (0, 0)
  point P0 (4.5, 4.9253)
extrude "Extrusion34" add sketch "Sketch30" along normal blind 20
sketch "Sketch31" plane through (-4.5, -3, 28) normal (1, 0, 0) x (0, 0, -1)
  circle A0 centre (-72.5, 3) radius 2.5
  circle A1 centre (-47.5, 3) radius 2.5
  circle A2 centre (-85, 3) radius 2.5
  point P0 (28, 3)
  dimension "d187" = 5
  dimension "d188" = 5
  dimension "d189" = 5
extrude "Extrusion35" cut sketch "Sketch31" against normal blind 20 contours A2
extrude "Extrusion36" cut sketch "Sketch31" against normal blind 20 contours A1
extrude "Extrusion37" cut sketch "Sketch31" against normal blind 20 contours A0
sketch "Sketch32" plane through (0, 0, 6) normal (0, 0, 1) x (1, 0, 0)
  point P0 (0, 0)
extrude "Extrusion38" add sketch "Sketch1" along normal blind 12 contours A0
sketch "Sketch33" plane through (-10.5, -15, -3) normal (1, 0, 0) x (0, 0, -1)
  point P0 (-3, 15)
sketch "Sketch34" plane through (0, 0, 12) normal (0, 0, 1) x (1, 0, 0)
  circle A0 centre (0, 0) radius 0.65
  dimension "d198" = 1.3
extrude "Extrusion39" cut sketch "Sketch34" against normal blind 1
properties part number "sampleholder7"
